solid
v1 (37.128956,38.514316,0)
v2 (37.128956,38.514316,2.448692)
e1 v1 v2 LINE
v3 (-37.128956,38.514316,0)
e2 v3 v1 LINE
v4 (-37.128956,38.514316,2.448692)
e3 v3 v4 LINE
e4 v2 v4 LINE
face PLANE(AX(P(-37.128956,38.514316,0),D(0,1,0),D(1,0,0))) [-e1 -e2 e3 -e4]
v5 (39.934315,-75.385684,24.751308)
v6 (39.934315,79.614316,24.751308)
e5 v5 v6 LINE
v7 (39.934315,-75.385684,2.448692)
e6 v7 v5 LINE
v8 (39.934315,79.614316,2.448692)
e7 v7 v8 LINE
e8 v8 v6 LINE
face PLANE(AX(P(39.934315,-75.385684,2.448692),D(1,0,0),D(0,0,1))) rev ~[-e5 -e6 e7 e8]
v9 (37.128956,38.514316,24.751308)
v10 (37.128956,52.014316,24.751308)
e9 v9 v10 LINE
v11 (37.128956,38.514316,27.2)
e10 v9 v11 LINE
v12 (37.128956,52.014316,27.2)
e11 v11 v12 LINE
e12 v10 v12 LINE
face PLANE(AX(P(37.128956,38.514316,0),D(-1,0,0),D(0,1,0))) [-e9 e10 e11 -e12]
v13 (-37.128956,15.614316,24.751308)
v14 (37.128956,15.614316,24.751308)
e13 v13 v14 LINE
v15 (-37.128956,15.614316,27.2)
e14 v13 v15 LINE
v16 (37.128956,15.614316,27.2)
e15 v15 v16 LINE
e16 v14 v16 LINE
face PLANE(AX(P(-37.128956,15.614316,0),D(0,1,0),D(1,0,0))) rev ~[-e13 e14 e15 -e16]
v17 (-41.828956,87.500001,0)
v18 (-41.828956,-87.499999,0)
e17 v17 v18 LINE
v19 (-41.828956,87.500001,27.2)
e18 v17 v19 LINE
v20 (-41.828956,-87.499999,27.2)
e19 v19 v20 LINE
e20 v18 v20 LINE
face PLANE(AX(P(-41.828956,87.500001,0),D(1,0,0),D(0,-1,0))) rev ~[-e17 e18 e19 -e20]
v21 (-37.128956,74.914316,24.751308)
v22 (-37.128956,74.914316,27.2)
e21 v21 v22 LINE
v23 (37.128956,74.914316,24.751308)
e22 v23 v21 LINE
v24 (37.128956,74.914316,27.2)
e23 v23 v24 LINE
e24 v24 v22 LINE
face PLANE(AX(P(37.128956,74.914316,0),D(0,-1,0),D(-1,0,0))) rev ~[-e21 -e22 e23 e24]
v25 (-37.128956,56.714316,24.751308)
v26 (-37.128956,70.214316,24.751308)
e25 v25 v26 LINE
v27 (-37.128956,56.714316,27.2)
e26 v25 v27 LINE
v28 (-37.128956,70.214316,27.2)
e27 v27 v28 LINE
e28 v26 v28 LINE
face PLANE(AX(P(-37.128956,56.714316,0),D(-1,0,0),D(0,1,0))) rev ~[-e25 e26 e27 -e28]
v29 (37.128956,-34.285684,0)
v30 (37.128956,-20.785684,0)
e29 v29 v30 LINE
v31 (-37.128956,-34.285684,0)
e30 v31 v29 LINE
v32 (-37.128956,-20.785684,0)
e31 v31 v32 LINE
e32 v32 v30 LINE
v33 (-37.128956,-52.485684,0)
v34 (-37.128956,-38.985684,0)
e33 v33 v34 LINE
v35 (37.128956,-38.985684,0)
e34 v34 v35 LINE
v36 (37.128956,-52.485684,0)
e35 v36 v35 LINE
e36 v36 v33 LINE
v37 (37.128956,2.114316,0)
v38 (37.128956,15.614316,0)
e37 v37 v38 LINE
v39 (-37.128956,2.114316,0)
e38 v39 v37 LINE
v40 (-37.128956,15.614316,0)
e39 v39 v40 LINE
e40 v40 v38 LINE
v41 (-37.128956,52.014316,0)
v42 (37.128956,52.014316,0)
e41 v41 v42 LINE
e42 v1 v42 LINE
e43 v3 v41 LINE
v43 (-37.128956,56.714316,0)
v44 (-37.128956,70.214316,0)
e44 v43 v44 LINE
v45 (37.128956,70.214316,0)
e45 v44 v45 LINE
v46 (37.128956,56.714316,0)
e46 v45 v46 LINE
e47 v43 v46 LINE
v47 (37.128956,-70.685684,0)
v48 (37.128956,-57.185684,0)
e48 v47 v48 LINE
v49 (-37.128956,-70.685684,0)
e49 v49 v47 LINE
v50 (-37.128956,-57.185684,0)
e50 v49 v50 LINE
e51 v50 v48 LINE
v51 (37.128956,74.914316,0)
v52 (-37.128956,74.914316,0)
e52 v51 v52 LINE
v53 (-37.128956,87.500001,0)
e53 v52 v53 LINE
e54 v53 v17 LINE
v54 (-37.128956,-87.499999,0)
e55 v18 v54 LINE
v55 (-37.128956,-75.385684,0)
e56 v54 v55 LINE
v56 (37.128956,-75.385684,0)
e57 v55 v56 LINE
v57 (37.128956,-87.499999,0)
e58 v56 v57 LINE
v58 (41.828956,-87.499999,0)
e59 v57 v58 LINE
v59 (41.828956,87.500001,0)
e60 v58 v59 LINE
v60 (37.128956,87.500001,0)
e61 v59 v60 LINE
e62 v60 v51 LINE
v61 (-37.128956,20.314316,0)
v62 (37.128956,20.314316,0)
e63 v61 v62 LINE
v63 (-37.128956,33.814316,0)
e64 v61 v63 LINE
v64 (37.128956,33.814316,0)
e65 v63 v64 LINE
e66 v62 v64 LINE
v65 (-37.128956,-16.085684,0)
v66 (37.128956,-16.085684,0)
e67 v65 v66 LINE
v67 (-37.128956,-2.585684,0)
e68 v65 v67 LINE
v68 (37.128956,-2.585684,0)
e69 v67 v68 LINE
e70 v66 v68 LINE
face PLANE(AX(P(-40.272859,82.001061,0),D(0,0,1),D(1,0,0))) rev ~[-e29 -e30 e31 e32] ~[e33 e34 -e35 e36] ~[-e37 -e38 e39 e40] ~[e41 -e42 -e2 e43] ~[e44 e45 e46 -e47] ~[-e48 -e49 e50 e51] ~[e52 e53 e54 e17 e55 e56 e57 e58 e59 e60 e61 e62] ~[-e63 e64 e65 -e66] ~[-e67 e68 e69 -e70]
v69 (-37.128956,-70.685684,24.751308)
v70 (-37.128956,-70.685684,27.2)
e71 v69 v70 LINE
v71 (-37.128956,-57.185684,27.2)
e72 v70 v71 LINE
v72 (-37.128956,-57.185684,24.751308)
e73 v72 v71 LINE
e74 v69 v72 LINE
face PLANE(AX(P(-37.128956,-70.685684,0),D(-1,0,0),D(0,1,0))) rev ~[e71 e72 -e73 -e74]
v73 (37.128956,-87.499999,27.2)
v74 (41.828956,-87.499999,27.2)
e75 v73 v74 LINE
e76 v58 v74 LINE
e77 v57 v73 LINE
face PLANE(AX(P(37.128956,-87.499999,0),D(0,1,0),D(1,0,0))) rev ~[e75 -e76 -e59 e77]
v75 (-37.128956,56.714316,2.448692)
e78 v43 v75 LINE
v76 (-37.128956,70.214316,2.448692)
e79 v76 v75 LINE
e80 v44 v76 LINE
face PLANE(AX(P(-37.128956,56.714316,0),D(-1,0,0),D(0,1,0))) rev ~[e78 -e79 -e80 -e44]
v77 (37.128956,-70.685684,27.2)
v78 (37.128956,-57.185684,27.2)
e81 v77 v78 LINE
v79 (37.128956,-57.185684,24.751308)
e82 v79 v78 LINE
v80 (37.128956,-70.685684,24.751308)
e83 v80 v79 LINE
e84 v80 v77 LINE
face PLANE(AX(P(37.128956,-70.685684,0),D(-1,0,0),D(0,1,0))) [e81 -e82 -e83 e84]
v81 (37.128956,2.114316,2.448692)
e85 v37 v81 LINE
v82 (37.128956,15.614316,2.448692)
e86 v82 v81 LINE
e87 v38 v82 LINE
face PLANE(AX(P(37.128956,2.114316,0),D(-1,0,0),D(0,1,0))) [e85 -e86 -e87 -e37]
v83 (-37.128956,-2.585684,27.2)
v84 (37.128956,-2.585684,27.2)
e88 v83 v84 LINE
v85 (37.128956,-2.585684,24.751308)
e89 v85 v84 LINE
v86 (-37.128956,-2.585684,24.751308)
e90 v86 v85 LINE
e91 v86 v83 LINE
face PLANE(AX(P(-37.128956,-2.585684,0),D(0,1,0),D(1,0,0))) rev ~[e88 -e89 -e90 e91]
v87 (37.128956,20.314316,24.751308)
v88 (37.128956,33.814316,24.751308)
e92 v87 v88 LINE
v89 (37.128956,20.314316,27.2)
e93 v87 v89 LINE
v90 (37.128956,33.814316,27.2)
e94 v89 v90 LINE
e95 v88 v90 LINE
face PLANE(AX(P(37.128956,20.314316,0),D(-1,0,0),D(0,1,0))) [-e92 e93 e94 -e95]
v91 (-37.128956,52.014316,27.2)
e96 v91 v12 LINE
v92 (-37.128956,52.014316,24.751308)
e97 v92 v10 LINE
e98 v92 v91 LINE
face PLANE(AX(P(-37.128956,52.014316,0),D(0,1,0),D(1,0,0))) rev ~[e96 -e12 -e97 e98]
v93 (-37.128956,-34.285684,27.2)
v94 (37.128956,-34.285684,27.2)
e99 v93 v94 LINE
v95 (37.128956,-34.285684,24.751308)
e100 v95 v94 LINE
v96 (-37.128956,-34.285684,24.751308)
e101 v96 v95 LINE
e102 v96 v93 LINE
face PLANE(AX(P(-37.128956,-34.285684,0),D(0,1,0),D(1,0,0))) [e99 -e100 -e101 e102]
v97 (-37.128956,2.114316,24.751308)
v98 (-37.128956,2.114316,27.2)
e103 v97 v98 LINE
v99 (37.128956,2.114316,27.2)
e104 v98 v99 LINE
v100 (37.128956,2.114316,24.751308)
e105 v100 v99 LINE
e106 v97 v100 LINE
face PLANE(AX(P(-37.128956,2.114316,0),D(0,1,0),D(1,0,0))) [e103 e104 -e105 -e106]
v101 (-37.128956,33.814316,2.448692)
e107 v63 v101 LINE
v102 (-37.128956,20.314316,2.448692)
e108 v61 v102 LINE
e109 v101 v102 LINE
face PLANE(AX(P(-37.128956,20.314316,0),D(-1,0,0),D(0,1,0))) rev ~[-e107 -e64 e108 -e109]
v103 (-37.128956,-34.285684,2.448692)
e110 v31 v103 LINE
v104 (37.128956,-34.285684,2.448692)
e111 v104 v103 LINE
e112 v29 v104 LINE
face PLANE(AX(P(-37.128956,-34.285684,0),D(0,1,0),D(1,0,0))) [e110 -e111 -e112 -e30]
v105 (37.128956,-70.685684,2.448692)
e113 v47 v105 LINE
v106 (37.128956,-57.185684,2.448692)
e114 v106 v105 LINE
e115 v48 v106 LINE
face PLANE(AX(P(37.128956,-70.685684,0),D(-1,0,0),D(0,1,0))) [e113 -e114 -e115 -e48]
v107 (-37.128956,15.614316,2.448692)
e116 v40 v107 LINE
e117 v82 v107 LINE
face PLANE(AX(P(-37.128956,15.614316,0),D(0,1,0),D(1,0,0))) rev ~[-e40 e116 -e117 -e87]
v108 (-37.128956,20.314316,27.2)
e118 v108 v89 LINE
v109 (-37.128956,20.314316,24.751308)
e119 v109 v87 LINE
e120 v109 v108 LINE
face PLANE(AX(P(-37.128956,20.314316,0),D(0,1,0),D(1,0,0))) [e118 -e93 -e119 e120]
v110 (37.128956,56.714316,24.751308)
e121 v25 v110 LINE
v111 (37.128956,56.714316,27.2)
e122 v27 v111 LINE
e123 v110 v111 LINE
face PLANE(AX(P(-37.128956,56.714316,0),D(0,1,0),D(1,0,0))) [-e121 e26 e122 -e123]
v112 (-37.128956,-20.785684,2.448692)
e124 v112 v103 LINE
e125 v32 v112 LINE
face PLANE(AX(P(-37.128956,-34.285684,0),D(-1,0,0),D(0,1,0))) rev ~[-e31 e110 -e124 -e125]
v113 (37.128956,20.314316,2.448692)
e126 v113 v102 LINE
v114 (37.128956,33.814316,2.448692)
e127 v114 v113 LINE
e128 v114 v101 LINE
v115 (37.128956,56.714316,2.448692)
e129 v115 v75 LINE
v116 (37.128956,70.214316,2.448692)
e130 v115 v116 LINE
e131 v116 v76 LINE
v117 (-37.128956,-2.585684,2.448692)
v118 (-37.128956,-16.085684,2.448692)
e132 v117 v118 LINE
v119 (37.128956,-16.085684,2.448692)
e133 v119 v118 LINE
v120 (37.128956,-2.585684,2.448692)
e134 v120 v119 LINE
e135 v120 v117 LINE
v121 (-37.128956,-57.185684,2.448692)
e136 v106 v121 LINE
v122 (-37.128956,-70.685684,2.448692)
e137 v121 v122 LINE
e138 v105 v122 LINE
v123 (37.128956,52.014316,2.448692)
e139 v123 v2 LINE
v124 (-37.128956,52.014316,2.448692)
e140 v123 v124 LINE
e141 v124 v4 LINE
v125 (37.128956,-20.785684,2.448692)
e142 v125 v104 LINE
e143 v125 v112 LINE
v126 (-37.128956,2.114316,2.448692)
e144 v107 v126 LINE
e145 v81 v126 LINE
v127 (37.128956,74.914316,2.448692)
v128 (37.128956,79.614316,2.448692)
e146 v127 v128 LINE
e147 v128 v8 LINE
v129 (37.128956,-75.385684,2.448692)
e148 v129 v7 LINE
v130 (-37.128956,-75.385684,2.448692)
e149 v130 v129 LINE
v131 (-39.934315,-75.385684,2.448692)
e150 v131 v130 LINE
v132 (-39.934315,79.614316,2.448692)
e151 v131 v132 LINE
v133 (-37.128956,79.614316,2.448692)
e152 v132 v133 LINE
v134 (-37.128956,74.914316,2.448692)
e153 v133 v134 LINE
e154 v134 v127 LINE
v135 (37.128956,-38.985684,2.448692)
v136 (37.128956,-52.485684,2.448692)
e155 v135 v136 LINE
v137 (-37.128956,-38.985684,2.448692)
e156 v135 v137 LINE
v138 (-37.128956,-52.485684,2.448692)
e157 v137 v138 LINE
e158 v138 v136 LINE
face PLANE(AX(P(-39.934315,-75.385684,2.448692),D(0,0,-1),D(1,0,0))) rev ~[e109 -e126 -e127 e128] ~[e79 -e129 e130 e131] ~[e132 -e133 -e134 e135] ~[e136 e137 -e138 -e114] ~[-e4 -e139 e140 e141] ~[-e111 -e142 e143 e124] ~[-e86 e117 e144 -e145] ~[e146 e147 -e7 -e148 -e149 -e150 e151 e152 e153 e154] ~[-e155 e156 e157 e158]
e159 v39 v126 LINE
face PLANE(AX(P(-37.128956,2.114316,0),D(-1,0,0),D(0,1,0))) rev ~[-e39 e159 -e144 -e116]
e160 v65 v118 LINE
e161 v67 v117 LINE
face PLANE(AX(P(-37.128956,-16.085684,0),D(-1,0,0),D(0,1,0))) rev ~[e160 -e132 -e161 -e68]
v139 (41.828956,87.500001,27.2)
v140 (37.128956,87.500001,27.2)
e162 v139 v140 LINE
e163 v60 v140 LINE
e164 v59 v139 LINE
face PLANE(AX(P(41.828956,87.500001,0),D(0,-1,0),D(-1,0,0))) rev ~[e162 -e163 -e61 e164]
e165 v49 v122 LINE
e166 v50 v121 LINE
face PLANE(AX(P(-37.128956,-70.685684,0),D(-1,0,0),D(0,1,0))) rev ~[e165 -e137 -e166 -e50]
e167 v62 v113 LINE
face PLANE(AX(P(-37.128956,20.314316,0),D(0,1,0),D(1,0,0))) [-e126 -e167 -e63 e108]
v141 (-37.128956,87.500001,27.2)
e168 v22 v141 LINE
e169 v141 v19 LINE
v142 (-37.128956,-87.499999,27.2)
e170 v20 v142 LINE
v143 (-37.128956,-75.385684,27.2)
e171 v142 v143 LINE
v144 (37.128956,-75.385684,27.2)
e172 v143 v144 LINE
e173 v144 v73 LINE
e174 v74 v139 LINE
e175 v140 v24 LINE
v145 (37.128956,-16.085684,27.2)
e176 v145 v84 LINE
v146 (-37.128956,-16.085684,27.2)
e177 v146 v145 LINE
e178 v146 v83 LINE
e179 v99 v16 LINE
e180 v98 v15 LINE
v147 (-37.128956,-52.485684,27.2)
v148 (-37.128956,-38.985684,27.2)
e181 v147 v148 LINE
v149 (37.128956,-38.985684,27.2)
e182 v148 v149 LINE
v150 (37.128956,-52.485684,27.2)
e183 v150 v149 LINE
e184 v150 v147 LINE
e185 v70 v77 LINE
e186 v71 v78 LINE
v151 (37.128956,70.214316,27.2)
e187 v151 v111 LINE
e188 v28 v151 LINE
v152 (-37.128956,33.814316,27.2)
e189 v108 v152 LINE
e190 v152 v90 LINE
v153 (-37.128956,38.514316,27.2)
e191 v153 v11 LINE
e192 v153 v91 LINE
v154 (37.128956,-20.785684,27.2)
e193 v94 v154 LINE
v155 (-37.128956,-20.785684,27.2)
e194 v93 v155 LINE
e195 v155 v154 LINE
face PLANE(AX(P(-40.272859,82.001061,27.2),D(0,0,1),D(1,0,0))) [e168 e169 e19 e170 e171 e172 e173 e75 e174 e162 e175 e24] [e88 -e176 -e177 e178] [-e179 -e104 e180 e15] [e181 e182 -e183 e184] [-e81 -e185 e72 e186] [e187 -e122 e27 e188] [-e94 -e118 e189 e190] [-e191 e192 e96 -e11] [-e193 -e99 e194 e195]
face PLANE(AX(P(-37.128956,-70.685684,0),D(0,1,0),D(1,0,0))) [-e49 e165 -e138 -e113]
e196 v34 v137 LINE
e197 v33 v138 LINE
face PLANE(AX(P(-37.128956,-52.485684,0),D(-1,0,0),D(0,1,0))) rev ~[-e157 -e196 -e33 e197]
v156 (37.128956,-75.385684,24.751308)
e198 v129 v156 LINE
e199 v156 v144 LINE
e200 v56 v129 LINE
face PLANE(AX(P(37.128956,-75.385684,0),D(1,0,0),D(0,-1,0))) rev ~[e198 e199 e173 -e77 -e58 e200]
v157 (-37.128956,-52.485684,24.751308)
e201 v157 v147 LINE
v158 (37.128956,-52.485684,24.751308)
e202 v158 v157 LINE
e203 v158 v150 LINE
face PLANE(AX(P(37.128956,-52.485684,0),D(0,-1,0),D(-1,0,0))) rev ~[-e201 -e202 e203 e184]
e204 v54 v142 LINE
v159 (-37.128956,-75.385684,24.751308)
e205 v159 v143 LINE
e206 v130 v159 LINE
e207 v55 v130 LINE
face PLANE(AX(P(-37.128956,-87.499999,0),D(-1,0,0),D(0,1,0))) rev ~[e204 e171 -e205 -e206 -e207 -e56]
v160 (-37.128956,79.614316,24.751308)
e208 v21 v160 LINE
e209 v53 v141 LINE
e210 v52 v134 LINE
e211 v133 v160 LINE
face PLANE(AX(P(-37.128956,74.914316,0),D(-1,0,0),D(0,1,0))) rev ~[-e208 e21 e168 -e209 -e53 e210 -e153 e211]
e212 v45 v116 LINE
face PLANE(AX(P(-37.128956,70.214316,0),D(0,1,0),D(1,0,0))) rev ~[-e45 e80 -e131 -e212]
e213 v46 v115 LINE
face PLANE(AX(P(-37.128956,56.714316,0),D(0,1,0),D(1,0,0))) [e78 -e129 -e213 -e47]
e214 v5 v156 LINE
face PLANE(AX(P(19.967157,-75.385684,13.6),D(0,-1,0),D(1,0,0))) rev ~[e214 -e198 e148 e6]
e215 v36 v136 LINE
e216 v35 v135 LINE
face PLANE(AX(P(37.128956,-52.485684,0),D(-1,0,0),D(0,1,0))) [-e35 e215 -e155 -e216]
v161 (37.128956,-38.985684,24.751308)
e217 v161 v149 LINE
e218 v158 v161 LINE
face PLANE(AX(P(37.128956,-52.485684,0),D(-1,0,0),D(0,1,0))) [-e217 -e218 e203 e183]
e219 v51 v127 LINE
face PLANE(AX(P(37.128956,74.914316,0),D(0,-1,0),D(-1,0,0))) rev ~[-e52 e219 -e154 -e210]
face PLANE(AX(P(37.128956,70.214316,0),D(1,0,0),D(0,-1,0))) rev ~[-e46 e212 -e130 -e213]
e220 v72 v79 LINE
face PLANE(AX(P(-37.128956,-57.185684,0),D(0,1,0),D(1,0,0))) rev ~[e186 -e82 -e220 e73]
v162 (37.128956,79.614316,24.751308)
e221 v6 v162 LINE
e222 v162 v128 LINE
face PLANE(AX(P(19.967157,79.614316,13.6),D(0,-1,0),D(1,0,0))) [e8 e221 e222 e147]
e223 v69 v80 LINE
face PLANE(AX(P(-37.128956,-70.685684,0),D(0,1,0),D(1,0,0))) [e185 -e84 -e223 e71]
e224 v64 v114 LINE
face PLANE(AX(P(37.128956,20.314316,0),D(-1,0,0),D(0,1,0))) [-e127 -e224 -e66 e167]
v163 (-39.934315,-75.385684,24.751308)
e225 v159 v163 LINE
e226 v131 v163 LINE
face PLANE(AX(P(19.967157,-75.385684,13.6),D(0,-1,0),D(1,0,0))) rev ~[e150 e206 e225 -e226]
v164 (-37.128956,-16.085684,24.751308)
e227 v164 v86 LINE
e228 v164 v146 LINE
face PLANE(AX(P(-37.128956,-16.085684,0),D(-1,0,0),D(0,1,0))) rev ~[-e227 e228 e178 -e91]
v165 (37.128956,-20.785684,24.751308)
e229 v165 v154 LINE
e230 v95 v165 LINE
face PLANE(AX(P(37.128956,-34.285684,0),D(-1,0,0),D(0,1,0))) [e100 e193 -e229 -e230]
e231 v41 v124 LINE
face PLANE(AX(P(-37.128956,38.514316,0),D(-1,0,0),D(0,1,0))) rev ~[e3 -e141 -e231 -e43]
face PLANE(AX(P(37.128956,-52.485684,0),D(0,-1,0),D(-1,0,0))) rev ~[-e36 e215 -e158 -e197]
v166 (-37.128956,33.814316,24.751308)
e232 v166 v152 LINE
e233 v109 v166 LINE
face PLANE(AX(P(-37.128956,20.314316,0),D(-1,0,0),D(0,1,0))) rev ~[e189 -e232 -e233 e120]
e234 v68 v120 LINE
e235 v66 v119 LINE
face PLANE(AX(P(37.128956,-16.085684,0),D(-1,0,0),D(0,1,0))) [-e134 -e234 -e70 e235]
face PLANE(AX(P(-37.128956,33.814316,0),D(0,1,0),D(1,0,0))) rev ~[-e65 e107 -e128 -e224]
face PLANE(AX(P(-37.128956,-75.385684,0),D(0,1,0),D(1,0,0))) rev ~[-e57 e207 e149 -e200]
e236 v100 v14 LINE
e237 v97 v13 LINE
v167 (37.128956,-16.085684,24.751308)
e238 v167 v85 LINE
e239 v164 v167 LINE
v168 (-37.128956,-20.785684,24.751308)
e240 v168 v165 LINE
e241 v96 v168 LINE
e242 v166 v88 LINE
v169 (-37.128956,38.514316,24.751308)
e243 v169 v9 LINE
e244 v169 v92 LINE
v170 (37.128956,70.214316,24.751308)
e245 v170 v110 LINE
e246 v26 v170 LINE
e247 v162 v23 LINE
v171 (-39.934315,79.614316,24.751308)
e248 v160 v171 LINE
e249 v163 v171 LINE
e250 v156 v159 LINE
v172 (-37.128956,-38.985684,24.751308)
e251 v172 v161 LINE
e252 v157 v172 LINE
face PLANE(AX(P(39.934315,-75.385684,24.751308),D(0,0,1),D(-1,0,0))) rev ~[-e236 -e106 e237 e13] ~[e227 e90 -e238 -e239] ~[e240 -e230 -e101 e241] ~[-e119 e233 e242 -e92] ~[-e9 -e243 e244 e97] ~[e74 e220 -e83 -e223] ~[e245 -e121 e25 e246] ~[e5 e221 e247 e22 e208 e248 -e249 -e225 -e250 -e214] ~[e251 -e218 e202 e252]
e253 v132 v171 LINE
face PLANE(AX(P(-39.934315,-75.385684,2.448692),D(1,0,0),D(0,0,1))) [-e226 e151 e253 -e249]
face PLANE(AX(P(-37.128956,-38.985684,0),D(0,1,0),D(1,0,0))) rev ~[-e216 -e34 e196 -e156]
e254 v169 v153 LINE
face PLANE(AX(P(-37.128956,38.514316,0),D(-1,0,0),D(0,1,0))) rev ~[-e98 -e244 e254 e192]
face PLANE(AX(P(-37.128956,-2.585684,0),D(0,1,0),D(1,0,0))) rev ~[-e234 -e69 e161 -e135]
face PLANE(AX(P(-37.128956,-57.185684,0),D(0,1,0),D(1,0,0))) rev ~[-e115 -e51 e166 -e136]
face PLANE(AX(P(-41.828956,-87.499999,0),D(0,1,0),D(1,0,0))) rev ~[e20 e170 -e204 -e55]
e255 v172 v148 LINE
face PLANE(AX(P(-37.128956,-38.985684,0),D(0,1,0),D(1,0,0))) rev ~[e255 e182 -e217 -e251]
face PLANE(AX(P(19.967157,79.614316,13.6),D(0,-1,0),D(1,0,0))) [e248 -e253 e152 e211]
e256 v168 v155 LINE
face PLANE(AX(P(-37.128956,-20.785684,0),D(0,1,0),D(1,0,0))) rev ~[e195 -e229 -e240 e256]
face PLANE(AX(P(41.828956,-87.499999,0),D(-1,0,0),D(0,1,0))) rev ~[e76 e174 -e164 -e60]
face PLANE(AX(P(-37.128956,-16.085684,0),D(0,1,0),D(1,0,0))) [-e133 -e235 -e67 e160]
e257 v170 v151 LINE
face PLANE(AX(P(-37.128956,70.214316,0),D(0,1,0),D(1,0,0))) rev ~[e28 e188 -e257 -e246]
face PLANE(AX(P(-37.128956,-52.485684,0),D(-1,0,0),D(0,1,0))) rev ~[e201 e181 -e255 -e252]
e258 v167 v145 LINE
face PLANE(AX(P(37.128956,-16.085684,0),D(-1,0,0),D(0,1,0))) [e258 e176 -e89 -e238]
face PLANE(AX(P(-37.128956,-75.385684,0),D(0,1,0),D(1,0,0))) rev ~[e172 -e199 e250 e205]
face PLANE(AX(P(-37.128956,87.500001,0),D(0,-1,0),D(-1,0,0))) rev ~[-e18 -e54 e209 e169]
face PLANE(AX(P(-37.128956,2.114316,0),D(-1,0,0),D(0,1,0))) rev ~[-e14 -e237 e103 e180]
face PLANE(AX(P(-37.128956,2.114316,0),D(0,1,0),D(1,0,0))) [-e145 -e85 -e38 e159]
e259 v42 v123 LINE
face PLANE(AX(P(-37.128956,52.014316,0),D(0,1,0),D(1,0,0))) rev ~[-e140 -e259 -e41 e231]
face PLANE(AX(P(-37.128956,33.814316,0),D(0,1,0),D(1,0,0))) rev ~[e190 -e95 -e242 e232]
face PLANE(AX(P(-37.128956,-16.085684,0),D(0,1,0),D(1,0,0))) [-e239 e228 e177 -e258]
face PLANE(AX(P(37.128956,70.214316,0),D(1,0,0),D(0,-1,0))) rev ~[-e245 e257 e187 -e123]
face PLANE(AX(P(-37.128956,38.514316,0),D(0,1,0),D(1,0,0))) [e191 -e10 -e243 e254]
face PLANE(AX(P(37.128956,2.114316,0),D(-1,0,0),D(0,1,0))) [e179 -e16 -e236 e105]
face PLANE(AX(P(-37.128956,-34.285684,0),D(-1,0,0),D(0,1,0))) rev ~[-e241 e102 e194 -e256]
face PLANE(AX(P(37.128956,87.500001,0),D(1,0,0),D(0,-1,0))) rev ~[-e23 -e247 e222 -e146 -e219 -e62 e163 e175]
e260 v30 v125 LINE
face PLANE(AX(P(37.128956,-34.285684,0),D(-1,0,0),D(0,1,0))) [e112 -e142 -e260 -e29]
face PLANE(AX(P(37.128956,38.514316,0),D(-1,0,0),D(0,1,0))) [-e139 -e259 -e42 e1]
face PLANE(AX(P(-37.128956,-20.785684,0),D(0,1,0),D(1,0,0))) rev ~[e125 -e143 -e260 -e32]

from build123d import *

# Parameters (mm, degrees)
F0_W     = 74.25791291
F0_H     = 4.7
F0_W_2   = 3.271043545
F0_W_3   = 1.428956455
F0_H_2   = 8.3906837511
F0_H_3   = 13.5
F0_H_4   = 7.9193162489
F1_DEPTH = 27.2
F2_W     = 39.9343147874
F2_H     = 22.3026155613
F3_DEPTH = 155


with BuildPart() as f1:
    # F0 (on Top) → F1 (new body)
    with BuildSketch(Plane.XY):
        Polygon((-41.828956455, 87.5000014901), (-41.828956455, 74.9143162489), (-40.4, 74.9143162489), (-40.4, 83.305), (-37.128956455, 83.305), (-37.128956455, 87.5000014901), align=None)
        with Locations((0, 72.5643162489)):
            Rectangle(F0_W, F0_H)
        with Locations((-38.7644782275, 72.5643162489)):
            Rectangle(F0_W_2, F0_H)
        with Locations((-41.1144782275, 72.5643162489)):
            Rectangle(F0_W_3, F0_H)
        with Locations((38.7644782275, 79.1096581244)):
            Rectangle(F0_W_2, F0_H_2)
        Polygon((37.128956455, 87.5000014901), (37.128956455, 83.305), (40.4, 83.305), (40.4, 74.9143162489), (41.828956455, 74.9143162489), (41.828956455, 87.5000014901), align=None)
        with Locations((38.7644782275, 72.5643162489)):
            Rectangle(F0_W_2, F0_H)
        with Locations((41.1144782275, 72.5643162489)):
            Rectangle(F0_W_3, F0_H)
        with Locations((-41.1144782275, 63.4643162489)):
            Rectangle(F0_W_3, F0_H_3)
        with Locations((-38.7644782275, 63.4643162489)):
            Rectangle(F0_W_2, F0_H_3)
        with Locations((38.7644782275, 63.4643162489)):
            Rectangle(F0_W_2, F0_H_3)
        with Locations((41.1144782275, 63.4643162489)):
            Rectangle(F0_W_3, F0_H_3)
        with Locations((41.1144782275, 54.3643162489)):
            Rectangle(F0_W_3, F0_H)
        with Locations((38.7644782275, 54.3643162489)):
            Rectangle(F0_W_2, F0_H)
        with Locations((0, 54.3643162489)):
            Rectangle(F0_W, F0_H)
        with Locations((-41.1144782275, 54.3643162489)):
            Rectangle(F0_W_3, F0_H)
        with Locations((-38.7644782275, 54.3643162489)):
            Rectangle(F0_W_2, F0_H)
        with Locations((-41.1144782275, 45.2643162489)):
            Rectangle(F0_W_3, F0_H_3)
        with Locations((-38.7644782275, 45.2643162489)):
            Rectangle(F0_W_2, F0_H_3)
        with Locations((38.7644782275, 45.2643162489)):
            Rectangle(F0_W_2, F0_H_3)
        with Locations((41.1144782275, 45.2643162489)):
            Rectangle(F0_W_3, F0_H_3)
        with Locations((-41.1144782275, 36.1643162489)):
            Rectangle(F0_W_3, F0_H)
        with Locations((-38.7644782275, 36.1643162489)):
            Rectangle(F0_W_2, F0_H)
        with Locations((0, 36.1643162489)):
            Rectangle(F0_W, F0_H)
        with Locations((38.7644782275, 36.1643162489)):
            Rectangle(F0_W_2, F0_H)
        with Locations((41.1144782275, 36.1643162489)):
            Rectangle(F0_W_3, F0_H)
        with Locations((-41.1144782275, 27.0643162489)):
            Rectangle(F0_W_3, F0_H_3)
        with Locations((-38.7644782275, 27.0643162489)):
            Rectangle(F0_W_2, F0_H_3)
        with Locations((38.7644782275, 27.0643162489)):
            Rectangle(F0_W_2, F0_H_3)
        with Locations((41.1144782275, 27.0643162489)):
            Rectangle(F0_W_3, F0_H_3)
        with Locations((-41.1144782275, 17.9643162489)):
            Rectangle(F0_W_3, F0_H)
        with Locations((-38.7644782275, 17.9643162489)):
            Rectangle(F0_W_2, F0_H)
        with Locations((0, 17.9643162489)):
            Rectangle(F0_W, F0_H)
        with Locations((38.7644782275, 17.9643162489)):
            Rectangle(F0_W_2, F0_H)
        with Locations((41.1144782275, 17.9643162489)):
            Rectangle(F0_W_3, F0_H)
        with Locations((-41.1144782275, 8.8643162489)):
            Rectangle(F0_W_3, F0_H_3)
        with Locations((-38.7644782275, 8.8643162489)):
            Rectangle(F0_W_2, F0_H_3)
        with Locations((-41.1144782275, -0.2356837511)):
            Rectangle(F0_W_3, F0_H)
        with Locations((-38.7644782275, -0.2356837511)):
            Rectangle(F0_W_2, F0_H)
        with Locations((0, -0.2356837511)):
            Rectangle(F0_W, F0_H)
        with Locations((38.7644782275, 8.8643162489)):
            Rectangle(F0_W_2, F0_H_3)
        with Locations((41.1144782275, 8.8643162489)):
            Rectangle(F0_W_3, F0_H_3)
        with Locations((38.7644782275, -0.2356837511)):
            Rectangle(F0_W_2, F0_H)
        with Locations((41.1144782275, -0.2356837511)):
            Rectangle(F0_W_3, F0_H)
        with Locations((-41.1144782275, -9.3356837511)):
            Rectangle(F0_W_3, F0_H_3)
        with Locations((-38.7644782275, -9.3356837511)):
            Rectangle(F0_W_2, F0_H_3)
        with Locations((-41.1144782275, -18.4356837511)):
            Rectangle(F0_W_3, F0_H)
        with Locations((-38.7644782275, -18.4356837511)):
            Rectangle(F0_W_2, F0_H)
        with Locations((0, -18.4356837511)):
            Rectangle(F0_W, F0_H)
        with Locations((38.7644782275, -9.3356837511)):
            Rectangle(F0_W_2, F0_H_3)
        with Locations((41.1144782275, -9.3356837511)):
            Rectangle(F0_W_3, F0_H_3)
        with Locations((38.7644782275, -18.4356837511)):
            Rectangle(F0_W_2, F0_H)
        with Locations((41.1144782275, -18.4356837511)):
            Rectangle(F0_W_3, F0_H)
        with Locations((-41.1144782275, -27.5356837511)):
            Rectangle(F0_W_3, F0_H_3)
        with Locations((-38.7644782275, -27.5356837511)):
            Rectangle(F0_W_2, F0_H_3)
        with Locations((38.7644782275, -27.5356837511)):
            Rectangle(F0_W_2, F0_H_3)
        with Locations((41.1144782275, -27.5356837511)):
            Rectangle(F0_W_3, F0_H_3)
        with Locations((-41.1144782275, -36.6356837511)):
            Rectangle(F0_W_3, F0_H)
        with Locations((-38.7644782275, -36.6356837511)):
            Rectangle(F0_W_2, F0_H)
        with Locations((0, -36.6356837511)):
            Rectangle(F0_W, F0_H)
        with Locations((38.7644782275, -36.6356837511)):
            Rectangle(F0_W_2, F0_H)
        with Locations((41.1144782275, -36.6356837511)):
            Rectangle(F0_W_3, F0_H)
        with Locations((-41.1144782275, -45.7356837511)):
            Rectangle(F0_W_3, F0_H_3)
        with Locations((-38.7644782275, -45.7356837511)):
            Rectangle(F0_W_2, F0_H_3)
        with Locations((-41.1144782275, -54.8356837511)):
            Rectangle(F0_W_3, F0_H)
        with Locations((-38.7644782275, -54.8356837511)):
            Rectangle(F0_W_2, F0_H)
        with Locations((0, -54.8356837511)):
            Rectangle(F0_W, F0_H)
        with Locations((38.7644782275, -54.8356837511)):
            Rectangle(F0_W_2, F0_H)
        with Locations((41.1144782275, -54.8356837511)):
            Rectangle(F0_W_3, F0_H)
        with Locations((38.7644782275, -45.7356837511)):
            Rectangle(F0_W_2, F0_H_3)
        with Locations((41.1144782275, -45.7356837511)):
            Rectangle(F0_W_3, F0_H_3)
        with Locations((-41.1144782275, -63.9356837511)):
            Rectangle(F0_W_3, F0_H_3)
        with Locations((-38.7644782275, -63.9356837511)):
            Rectangle(F0_W_2, F0_H_3)
        with Locations((38.7644782275, -63.9356837511)):
            Rectangle(F0_W_2, F0_H_3)
        with Locations((41.1144782275, -63.9356837511)):
            Rectangle(F0_W_3, F0_H_3)
        with Locations((-41.1144782275, -73.0356837511)):
            Rectangle(F0_W_3, F0_H)
        with Locations((-38.7644782275, -73.0356837511)):
            Rectangle(F0_W_2, F0_H)
        with Locations((0, -73.0356837511)):
            Rectangle(F0_W, F0_H)
        with Locations((38.7644782275, -73.0356837511)):
            Rectangle(F0_W_2, F0_H)
        with Locations((41.1144782275, -73.0356837511)):
            Rectangle(F0_W_3, F0_H)
        Polygon((-41.828956455, -87.4999985099), (-37.128956455, -87.4999985099), (-37.128956455, -83.305), (-40.4, -83.305), (-40.4, -75.3856837511), (-41.828956455, -75.3856837511), align=None)
        with Locations((-38.7644782275, -79.3453418756)):
            Rectangle(F0_W_2, F0_H_4)
        with Locations((38.7644782275, -79.3453418756)):
            Rectangle(F0_W_2, F0_H_4)
        Polygon((40.4, -83.305), (37.128956455, -83.305), (37.128956455, -87.4999985099), (41.828956455, -87.4999985099), (41.828956455, -75.3856837511), (40.4, -75.3856837511), align=None)
        with Locations((-38.7644782275, 79.1096581244)):
            Rectangle(F0_W_2, F0_H_2)
    extrude(amount=F1_DEPTH)

    # F2 (on face) → F3 (cut)
    with BuildSketch(Plane.XZ.offset(75.3856837511)):
        with Locations((19.9671573937, 13.6)):
            Rectangle(F2_W, F2_H)
        with Locations((-19.9671573937, 13.6)):
            Rectangle(F2_W, F2_H)
    extrude(amount=-F3_DEPTH, mode=Mode.SUBTRACT)


solid = f1.part
